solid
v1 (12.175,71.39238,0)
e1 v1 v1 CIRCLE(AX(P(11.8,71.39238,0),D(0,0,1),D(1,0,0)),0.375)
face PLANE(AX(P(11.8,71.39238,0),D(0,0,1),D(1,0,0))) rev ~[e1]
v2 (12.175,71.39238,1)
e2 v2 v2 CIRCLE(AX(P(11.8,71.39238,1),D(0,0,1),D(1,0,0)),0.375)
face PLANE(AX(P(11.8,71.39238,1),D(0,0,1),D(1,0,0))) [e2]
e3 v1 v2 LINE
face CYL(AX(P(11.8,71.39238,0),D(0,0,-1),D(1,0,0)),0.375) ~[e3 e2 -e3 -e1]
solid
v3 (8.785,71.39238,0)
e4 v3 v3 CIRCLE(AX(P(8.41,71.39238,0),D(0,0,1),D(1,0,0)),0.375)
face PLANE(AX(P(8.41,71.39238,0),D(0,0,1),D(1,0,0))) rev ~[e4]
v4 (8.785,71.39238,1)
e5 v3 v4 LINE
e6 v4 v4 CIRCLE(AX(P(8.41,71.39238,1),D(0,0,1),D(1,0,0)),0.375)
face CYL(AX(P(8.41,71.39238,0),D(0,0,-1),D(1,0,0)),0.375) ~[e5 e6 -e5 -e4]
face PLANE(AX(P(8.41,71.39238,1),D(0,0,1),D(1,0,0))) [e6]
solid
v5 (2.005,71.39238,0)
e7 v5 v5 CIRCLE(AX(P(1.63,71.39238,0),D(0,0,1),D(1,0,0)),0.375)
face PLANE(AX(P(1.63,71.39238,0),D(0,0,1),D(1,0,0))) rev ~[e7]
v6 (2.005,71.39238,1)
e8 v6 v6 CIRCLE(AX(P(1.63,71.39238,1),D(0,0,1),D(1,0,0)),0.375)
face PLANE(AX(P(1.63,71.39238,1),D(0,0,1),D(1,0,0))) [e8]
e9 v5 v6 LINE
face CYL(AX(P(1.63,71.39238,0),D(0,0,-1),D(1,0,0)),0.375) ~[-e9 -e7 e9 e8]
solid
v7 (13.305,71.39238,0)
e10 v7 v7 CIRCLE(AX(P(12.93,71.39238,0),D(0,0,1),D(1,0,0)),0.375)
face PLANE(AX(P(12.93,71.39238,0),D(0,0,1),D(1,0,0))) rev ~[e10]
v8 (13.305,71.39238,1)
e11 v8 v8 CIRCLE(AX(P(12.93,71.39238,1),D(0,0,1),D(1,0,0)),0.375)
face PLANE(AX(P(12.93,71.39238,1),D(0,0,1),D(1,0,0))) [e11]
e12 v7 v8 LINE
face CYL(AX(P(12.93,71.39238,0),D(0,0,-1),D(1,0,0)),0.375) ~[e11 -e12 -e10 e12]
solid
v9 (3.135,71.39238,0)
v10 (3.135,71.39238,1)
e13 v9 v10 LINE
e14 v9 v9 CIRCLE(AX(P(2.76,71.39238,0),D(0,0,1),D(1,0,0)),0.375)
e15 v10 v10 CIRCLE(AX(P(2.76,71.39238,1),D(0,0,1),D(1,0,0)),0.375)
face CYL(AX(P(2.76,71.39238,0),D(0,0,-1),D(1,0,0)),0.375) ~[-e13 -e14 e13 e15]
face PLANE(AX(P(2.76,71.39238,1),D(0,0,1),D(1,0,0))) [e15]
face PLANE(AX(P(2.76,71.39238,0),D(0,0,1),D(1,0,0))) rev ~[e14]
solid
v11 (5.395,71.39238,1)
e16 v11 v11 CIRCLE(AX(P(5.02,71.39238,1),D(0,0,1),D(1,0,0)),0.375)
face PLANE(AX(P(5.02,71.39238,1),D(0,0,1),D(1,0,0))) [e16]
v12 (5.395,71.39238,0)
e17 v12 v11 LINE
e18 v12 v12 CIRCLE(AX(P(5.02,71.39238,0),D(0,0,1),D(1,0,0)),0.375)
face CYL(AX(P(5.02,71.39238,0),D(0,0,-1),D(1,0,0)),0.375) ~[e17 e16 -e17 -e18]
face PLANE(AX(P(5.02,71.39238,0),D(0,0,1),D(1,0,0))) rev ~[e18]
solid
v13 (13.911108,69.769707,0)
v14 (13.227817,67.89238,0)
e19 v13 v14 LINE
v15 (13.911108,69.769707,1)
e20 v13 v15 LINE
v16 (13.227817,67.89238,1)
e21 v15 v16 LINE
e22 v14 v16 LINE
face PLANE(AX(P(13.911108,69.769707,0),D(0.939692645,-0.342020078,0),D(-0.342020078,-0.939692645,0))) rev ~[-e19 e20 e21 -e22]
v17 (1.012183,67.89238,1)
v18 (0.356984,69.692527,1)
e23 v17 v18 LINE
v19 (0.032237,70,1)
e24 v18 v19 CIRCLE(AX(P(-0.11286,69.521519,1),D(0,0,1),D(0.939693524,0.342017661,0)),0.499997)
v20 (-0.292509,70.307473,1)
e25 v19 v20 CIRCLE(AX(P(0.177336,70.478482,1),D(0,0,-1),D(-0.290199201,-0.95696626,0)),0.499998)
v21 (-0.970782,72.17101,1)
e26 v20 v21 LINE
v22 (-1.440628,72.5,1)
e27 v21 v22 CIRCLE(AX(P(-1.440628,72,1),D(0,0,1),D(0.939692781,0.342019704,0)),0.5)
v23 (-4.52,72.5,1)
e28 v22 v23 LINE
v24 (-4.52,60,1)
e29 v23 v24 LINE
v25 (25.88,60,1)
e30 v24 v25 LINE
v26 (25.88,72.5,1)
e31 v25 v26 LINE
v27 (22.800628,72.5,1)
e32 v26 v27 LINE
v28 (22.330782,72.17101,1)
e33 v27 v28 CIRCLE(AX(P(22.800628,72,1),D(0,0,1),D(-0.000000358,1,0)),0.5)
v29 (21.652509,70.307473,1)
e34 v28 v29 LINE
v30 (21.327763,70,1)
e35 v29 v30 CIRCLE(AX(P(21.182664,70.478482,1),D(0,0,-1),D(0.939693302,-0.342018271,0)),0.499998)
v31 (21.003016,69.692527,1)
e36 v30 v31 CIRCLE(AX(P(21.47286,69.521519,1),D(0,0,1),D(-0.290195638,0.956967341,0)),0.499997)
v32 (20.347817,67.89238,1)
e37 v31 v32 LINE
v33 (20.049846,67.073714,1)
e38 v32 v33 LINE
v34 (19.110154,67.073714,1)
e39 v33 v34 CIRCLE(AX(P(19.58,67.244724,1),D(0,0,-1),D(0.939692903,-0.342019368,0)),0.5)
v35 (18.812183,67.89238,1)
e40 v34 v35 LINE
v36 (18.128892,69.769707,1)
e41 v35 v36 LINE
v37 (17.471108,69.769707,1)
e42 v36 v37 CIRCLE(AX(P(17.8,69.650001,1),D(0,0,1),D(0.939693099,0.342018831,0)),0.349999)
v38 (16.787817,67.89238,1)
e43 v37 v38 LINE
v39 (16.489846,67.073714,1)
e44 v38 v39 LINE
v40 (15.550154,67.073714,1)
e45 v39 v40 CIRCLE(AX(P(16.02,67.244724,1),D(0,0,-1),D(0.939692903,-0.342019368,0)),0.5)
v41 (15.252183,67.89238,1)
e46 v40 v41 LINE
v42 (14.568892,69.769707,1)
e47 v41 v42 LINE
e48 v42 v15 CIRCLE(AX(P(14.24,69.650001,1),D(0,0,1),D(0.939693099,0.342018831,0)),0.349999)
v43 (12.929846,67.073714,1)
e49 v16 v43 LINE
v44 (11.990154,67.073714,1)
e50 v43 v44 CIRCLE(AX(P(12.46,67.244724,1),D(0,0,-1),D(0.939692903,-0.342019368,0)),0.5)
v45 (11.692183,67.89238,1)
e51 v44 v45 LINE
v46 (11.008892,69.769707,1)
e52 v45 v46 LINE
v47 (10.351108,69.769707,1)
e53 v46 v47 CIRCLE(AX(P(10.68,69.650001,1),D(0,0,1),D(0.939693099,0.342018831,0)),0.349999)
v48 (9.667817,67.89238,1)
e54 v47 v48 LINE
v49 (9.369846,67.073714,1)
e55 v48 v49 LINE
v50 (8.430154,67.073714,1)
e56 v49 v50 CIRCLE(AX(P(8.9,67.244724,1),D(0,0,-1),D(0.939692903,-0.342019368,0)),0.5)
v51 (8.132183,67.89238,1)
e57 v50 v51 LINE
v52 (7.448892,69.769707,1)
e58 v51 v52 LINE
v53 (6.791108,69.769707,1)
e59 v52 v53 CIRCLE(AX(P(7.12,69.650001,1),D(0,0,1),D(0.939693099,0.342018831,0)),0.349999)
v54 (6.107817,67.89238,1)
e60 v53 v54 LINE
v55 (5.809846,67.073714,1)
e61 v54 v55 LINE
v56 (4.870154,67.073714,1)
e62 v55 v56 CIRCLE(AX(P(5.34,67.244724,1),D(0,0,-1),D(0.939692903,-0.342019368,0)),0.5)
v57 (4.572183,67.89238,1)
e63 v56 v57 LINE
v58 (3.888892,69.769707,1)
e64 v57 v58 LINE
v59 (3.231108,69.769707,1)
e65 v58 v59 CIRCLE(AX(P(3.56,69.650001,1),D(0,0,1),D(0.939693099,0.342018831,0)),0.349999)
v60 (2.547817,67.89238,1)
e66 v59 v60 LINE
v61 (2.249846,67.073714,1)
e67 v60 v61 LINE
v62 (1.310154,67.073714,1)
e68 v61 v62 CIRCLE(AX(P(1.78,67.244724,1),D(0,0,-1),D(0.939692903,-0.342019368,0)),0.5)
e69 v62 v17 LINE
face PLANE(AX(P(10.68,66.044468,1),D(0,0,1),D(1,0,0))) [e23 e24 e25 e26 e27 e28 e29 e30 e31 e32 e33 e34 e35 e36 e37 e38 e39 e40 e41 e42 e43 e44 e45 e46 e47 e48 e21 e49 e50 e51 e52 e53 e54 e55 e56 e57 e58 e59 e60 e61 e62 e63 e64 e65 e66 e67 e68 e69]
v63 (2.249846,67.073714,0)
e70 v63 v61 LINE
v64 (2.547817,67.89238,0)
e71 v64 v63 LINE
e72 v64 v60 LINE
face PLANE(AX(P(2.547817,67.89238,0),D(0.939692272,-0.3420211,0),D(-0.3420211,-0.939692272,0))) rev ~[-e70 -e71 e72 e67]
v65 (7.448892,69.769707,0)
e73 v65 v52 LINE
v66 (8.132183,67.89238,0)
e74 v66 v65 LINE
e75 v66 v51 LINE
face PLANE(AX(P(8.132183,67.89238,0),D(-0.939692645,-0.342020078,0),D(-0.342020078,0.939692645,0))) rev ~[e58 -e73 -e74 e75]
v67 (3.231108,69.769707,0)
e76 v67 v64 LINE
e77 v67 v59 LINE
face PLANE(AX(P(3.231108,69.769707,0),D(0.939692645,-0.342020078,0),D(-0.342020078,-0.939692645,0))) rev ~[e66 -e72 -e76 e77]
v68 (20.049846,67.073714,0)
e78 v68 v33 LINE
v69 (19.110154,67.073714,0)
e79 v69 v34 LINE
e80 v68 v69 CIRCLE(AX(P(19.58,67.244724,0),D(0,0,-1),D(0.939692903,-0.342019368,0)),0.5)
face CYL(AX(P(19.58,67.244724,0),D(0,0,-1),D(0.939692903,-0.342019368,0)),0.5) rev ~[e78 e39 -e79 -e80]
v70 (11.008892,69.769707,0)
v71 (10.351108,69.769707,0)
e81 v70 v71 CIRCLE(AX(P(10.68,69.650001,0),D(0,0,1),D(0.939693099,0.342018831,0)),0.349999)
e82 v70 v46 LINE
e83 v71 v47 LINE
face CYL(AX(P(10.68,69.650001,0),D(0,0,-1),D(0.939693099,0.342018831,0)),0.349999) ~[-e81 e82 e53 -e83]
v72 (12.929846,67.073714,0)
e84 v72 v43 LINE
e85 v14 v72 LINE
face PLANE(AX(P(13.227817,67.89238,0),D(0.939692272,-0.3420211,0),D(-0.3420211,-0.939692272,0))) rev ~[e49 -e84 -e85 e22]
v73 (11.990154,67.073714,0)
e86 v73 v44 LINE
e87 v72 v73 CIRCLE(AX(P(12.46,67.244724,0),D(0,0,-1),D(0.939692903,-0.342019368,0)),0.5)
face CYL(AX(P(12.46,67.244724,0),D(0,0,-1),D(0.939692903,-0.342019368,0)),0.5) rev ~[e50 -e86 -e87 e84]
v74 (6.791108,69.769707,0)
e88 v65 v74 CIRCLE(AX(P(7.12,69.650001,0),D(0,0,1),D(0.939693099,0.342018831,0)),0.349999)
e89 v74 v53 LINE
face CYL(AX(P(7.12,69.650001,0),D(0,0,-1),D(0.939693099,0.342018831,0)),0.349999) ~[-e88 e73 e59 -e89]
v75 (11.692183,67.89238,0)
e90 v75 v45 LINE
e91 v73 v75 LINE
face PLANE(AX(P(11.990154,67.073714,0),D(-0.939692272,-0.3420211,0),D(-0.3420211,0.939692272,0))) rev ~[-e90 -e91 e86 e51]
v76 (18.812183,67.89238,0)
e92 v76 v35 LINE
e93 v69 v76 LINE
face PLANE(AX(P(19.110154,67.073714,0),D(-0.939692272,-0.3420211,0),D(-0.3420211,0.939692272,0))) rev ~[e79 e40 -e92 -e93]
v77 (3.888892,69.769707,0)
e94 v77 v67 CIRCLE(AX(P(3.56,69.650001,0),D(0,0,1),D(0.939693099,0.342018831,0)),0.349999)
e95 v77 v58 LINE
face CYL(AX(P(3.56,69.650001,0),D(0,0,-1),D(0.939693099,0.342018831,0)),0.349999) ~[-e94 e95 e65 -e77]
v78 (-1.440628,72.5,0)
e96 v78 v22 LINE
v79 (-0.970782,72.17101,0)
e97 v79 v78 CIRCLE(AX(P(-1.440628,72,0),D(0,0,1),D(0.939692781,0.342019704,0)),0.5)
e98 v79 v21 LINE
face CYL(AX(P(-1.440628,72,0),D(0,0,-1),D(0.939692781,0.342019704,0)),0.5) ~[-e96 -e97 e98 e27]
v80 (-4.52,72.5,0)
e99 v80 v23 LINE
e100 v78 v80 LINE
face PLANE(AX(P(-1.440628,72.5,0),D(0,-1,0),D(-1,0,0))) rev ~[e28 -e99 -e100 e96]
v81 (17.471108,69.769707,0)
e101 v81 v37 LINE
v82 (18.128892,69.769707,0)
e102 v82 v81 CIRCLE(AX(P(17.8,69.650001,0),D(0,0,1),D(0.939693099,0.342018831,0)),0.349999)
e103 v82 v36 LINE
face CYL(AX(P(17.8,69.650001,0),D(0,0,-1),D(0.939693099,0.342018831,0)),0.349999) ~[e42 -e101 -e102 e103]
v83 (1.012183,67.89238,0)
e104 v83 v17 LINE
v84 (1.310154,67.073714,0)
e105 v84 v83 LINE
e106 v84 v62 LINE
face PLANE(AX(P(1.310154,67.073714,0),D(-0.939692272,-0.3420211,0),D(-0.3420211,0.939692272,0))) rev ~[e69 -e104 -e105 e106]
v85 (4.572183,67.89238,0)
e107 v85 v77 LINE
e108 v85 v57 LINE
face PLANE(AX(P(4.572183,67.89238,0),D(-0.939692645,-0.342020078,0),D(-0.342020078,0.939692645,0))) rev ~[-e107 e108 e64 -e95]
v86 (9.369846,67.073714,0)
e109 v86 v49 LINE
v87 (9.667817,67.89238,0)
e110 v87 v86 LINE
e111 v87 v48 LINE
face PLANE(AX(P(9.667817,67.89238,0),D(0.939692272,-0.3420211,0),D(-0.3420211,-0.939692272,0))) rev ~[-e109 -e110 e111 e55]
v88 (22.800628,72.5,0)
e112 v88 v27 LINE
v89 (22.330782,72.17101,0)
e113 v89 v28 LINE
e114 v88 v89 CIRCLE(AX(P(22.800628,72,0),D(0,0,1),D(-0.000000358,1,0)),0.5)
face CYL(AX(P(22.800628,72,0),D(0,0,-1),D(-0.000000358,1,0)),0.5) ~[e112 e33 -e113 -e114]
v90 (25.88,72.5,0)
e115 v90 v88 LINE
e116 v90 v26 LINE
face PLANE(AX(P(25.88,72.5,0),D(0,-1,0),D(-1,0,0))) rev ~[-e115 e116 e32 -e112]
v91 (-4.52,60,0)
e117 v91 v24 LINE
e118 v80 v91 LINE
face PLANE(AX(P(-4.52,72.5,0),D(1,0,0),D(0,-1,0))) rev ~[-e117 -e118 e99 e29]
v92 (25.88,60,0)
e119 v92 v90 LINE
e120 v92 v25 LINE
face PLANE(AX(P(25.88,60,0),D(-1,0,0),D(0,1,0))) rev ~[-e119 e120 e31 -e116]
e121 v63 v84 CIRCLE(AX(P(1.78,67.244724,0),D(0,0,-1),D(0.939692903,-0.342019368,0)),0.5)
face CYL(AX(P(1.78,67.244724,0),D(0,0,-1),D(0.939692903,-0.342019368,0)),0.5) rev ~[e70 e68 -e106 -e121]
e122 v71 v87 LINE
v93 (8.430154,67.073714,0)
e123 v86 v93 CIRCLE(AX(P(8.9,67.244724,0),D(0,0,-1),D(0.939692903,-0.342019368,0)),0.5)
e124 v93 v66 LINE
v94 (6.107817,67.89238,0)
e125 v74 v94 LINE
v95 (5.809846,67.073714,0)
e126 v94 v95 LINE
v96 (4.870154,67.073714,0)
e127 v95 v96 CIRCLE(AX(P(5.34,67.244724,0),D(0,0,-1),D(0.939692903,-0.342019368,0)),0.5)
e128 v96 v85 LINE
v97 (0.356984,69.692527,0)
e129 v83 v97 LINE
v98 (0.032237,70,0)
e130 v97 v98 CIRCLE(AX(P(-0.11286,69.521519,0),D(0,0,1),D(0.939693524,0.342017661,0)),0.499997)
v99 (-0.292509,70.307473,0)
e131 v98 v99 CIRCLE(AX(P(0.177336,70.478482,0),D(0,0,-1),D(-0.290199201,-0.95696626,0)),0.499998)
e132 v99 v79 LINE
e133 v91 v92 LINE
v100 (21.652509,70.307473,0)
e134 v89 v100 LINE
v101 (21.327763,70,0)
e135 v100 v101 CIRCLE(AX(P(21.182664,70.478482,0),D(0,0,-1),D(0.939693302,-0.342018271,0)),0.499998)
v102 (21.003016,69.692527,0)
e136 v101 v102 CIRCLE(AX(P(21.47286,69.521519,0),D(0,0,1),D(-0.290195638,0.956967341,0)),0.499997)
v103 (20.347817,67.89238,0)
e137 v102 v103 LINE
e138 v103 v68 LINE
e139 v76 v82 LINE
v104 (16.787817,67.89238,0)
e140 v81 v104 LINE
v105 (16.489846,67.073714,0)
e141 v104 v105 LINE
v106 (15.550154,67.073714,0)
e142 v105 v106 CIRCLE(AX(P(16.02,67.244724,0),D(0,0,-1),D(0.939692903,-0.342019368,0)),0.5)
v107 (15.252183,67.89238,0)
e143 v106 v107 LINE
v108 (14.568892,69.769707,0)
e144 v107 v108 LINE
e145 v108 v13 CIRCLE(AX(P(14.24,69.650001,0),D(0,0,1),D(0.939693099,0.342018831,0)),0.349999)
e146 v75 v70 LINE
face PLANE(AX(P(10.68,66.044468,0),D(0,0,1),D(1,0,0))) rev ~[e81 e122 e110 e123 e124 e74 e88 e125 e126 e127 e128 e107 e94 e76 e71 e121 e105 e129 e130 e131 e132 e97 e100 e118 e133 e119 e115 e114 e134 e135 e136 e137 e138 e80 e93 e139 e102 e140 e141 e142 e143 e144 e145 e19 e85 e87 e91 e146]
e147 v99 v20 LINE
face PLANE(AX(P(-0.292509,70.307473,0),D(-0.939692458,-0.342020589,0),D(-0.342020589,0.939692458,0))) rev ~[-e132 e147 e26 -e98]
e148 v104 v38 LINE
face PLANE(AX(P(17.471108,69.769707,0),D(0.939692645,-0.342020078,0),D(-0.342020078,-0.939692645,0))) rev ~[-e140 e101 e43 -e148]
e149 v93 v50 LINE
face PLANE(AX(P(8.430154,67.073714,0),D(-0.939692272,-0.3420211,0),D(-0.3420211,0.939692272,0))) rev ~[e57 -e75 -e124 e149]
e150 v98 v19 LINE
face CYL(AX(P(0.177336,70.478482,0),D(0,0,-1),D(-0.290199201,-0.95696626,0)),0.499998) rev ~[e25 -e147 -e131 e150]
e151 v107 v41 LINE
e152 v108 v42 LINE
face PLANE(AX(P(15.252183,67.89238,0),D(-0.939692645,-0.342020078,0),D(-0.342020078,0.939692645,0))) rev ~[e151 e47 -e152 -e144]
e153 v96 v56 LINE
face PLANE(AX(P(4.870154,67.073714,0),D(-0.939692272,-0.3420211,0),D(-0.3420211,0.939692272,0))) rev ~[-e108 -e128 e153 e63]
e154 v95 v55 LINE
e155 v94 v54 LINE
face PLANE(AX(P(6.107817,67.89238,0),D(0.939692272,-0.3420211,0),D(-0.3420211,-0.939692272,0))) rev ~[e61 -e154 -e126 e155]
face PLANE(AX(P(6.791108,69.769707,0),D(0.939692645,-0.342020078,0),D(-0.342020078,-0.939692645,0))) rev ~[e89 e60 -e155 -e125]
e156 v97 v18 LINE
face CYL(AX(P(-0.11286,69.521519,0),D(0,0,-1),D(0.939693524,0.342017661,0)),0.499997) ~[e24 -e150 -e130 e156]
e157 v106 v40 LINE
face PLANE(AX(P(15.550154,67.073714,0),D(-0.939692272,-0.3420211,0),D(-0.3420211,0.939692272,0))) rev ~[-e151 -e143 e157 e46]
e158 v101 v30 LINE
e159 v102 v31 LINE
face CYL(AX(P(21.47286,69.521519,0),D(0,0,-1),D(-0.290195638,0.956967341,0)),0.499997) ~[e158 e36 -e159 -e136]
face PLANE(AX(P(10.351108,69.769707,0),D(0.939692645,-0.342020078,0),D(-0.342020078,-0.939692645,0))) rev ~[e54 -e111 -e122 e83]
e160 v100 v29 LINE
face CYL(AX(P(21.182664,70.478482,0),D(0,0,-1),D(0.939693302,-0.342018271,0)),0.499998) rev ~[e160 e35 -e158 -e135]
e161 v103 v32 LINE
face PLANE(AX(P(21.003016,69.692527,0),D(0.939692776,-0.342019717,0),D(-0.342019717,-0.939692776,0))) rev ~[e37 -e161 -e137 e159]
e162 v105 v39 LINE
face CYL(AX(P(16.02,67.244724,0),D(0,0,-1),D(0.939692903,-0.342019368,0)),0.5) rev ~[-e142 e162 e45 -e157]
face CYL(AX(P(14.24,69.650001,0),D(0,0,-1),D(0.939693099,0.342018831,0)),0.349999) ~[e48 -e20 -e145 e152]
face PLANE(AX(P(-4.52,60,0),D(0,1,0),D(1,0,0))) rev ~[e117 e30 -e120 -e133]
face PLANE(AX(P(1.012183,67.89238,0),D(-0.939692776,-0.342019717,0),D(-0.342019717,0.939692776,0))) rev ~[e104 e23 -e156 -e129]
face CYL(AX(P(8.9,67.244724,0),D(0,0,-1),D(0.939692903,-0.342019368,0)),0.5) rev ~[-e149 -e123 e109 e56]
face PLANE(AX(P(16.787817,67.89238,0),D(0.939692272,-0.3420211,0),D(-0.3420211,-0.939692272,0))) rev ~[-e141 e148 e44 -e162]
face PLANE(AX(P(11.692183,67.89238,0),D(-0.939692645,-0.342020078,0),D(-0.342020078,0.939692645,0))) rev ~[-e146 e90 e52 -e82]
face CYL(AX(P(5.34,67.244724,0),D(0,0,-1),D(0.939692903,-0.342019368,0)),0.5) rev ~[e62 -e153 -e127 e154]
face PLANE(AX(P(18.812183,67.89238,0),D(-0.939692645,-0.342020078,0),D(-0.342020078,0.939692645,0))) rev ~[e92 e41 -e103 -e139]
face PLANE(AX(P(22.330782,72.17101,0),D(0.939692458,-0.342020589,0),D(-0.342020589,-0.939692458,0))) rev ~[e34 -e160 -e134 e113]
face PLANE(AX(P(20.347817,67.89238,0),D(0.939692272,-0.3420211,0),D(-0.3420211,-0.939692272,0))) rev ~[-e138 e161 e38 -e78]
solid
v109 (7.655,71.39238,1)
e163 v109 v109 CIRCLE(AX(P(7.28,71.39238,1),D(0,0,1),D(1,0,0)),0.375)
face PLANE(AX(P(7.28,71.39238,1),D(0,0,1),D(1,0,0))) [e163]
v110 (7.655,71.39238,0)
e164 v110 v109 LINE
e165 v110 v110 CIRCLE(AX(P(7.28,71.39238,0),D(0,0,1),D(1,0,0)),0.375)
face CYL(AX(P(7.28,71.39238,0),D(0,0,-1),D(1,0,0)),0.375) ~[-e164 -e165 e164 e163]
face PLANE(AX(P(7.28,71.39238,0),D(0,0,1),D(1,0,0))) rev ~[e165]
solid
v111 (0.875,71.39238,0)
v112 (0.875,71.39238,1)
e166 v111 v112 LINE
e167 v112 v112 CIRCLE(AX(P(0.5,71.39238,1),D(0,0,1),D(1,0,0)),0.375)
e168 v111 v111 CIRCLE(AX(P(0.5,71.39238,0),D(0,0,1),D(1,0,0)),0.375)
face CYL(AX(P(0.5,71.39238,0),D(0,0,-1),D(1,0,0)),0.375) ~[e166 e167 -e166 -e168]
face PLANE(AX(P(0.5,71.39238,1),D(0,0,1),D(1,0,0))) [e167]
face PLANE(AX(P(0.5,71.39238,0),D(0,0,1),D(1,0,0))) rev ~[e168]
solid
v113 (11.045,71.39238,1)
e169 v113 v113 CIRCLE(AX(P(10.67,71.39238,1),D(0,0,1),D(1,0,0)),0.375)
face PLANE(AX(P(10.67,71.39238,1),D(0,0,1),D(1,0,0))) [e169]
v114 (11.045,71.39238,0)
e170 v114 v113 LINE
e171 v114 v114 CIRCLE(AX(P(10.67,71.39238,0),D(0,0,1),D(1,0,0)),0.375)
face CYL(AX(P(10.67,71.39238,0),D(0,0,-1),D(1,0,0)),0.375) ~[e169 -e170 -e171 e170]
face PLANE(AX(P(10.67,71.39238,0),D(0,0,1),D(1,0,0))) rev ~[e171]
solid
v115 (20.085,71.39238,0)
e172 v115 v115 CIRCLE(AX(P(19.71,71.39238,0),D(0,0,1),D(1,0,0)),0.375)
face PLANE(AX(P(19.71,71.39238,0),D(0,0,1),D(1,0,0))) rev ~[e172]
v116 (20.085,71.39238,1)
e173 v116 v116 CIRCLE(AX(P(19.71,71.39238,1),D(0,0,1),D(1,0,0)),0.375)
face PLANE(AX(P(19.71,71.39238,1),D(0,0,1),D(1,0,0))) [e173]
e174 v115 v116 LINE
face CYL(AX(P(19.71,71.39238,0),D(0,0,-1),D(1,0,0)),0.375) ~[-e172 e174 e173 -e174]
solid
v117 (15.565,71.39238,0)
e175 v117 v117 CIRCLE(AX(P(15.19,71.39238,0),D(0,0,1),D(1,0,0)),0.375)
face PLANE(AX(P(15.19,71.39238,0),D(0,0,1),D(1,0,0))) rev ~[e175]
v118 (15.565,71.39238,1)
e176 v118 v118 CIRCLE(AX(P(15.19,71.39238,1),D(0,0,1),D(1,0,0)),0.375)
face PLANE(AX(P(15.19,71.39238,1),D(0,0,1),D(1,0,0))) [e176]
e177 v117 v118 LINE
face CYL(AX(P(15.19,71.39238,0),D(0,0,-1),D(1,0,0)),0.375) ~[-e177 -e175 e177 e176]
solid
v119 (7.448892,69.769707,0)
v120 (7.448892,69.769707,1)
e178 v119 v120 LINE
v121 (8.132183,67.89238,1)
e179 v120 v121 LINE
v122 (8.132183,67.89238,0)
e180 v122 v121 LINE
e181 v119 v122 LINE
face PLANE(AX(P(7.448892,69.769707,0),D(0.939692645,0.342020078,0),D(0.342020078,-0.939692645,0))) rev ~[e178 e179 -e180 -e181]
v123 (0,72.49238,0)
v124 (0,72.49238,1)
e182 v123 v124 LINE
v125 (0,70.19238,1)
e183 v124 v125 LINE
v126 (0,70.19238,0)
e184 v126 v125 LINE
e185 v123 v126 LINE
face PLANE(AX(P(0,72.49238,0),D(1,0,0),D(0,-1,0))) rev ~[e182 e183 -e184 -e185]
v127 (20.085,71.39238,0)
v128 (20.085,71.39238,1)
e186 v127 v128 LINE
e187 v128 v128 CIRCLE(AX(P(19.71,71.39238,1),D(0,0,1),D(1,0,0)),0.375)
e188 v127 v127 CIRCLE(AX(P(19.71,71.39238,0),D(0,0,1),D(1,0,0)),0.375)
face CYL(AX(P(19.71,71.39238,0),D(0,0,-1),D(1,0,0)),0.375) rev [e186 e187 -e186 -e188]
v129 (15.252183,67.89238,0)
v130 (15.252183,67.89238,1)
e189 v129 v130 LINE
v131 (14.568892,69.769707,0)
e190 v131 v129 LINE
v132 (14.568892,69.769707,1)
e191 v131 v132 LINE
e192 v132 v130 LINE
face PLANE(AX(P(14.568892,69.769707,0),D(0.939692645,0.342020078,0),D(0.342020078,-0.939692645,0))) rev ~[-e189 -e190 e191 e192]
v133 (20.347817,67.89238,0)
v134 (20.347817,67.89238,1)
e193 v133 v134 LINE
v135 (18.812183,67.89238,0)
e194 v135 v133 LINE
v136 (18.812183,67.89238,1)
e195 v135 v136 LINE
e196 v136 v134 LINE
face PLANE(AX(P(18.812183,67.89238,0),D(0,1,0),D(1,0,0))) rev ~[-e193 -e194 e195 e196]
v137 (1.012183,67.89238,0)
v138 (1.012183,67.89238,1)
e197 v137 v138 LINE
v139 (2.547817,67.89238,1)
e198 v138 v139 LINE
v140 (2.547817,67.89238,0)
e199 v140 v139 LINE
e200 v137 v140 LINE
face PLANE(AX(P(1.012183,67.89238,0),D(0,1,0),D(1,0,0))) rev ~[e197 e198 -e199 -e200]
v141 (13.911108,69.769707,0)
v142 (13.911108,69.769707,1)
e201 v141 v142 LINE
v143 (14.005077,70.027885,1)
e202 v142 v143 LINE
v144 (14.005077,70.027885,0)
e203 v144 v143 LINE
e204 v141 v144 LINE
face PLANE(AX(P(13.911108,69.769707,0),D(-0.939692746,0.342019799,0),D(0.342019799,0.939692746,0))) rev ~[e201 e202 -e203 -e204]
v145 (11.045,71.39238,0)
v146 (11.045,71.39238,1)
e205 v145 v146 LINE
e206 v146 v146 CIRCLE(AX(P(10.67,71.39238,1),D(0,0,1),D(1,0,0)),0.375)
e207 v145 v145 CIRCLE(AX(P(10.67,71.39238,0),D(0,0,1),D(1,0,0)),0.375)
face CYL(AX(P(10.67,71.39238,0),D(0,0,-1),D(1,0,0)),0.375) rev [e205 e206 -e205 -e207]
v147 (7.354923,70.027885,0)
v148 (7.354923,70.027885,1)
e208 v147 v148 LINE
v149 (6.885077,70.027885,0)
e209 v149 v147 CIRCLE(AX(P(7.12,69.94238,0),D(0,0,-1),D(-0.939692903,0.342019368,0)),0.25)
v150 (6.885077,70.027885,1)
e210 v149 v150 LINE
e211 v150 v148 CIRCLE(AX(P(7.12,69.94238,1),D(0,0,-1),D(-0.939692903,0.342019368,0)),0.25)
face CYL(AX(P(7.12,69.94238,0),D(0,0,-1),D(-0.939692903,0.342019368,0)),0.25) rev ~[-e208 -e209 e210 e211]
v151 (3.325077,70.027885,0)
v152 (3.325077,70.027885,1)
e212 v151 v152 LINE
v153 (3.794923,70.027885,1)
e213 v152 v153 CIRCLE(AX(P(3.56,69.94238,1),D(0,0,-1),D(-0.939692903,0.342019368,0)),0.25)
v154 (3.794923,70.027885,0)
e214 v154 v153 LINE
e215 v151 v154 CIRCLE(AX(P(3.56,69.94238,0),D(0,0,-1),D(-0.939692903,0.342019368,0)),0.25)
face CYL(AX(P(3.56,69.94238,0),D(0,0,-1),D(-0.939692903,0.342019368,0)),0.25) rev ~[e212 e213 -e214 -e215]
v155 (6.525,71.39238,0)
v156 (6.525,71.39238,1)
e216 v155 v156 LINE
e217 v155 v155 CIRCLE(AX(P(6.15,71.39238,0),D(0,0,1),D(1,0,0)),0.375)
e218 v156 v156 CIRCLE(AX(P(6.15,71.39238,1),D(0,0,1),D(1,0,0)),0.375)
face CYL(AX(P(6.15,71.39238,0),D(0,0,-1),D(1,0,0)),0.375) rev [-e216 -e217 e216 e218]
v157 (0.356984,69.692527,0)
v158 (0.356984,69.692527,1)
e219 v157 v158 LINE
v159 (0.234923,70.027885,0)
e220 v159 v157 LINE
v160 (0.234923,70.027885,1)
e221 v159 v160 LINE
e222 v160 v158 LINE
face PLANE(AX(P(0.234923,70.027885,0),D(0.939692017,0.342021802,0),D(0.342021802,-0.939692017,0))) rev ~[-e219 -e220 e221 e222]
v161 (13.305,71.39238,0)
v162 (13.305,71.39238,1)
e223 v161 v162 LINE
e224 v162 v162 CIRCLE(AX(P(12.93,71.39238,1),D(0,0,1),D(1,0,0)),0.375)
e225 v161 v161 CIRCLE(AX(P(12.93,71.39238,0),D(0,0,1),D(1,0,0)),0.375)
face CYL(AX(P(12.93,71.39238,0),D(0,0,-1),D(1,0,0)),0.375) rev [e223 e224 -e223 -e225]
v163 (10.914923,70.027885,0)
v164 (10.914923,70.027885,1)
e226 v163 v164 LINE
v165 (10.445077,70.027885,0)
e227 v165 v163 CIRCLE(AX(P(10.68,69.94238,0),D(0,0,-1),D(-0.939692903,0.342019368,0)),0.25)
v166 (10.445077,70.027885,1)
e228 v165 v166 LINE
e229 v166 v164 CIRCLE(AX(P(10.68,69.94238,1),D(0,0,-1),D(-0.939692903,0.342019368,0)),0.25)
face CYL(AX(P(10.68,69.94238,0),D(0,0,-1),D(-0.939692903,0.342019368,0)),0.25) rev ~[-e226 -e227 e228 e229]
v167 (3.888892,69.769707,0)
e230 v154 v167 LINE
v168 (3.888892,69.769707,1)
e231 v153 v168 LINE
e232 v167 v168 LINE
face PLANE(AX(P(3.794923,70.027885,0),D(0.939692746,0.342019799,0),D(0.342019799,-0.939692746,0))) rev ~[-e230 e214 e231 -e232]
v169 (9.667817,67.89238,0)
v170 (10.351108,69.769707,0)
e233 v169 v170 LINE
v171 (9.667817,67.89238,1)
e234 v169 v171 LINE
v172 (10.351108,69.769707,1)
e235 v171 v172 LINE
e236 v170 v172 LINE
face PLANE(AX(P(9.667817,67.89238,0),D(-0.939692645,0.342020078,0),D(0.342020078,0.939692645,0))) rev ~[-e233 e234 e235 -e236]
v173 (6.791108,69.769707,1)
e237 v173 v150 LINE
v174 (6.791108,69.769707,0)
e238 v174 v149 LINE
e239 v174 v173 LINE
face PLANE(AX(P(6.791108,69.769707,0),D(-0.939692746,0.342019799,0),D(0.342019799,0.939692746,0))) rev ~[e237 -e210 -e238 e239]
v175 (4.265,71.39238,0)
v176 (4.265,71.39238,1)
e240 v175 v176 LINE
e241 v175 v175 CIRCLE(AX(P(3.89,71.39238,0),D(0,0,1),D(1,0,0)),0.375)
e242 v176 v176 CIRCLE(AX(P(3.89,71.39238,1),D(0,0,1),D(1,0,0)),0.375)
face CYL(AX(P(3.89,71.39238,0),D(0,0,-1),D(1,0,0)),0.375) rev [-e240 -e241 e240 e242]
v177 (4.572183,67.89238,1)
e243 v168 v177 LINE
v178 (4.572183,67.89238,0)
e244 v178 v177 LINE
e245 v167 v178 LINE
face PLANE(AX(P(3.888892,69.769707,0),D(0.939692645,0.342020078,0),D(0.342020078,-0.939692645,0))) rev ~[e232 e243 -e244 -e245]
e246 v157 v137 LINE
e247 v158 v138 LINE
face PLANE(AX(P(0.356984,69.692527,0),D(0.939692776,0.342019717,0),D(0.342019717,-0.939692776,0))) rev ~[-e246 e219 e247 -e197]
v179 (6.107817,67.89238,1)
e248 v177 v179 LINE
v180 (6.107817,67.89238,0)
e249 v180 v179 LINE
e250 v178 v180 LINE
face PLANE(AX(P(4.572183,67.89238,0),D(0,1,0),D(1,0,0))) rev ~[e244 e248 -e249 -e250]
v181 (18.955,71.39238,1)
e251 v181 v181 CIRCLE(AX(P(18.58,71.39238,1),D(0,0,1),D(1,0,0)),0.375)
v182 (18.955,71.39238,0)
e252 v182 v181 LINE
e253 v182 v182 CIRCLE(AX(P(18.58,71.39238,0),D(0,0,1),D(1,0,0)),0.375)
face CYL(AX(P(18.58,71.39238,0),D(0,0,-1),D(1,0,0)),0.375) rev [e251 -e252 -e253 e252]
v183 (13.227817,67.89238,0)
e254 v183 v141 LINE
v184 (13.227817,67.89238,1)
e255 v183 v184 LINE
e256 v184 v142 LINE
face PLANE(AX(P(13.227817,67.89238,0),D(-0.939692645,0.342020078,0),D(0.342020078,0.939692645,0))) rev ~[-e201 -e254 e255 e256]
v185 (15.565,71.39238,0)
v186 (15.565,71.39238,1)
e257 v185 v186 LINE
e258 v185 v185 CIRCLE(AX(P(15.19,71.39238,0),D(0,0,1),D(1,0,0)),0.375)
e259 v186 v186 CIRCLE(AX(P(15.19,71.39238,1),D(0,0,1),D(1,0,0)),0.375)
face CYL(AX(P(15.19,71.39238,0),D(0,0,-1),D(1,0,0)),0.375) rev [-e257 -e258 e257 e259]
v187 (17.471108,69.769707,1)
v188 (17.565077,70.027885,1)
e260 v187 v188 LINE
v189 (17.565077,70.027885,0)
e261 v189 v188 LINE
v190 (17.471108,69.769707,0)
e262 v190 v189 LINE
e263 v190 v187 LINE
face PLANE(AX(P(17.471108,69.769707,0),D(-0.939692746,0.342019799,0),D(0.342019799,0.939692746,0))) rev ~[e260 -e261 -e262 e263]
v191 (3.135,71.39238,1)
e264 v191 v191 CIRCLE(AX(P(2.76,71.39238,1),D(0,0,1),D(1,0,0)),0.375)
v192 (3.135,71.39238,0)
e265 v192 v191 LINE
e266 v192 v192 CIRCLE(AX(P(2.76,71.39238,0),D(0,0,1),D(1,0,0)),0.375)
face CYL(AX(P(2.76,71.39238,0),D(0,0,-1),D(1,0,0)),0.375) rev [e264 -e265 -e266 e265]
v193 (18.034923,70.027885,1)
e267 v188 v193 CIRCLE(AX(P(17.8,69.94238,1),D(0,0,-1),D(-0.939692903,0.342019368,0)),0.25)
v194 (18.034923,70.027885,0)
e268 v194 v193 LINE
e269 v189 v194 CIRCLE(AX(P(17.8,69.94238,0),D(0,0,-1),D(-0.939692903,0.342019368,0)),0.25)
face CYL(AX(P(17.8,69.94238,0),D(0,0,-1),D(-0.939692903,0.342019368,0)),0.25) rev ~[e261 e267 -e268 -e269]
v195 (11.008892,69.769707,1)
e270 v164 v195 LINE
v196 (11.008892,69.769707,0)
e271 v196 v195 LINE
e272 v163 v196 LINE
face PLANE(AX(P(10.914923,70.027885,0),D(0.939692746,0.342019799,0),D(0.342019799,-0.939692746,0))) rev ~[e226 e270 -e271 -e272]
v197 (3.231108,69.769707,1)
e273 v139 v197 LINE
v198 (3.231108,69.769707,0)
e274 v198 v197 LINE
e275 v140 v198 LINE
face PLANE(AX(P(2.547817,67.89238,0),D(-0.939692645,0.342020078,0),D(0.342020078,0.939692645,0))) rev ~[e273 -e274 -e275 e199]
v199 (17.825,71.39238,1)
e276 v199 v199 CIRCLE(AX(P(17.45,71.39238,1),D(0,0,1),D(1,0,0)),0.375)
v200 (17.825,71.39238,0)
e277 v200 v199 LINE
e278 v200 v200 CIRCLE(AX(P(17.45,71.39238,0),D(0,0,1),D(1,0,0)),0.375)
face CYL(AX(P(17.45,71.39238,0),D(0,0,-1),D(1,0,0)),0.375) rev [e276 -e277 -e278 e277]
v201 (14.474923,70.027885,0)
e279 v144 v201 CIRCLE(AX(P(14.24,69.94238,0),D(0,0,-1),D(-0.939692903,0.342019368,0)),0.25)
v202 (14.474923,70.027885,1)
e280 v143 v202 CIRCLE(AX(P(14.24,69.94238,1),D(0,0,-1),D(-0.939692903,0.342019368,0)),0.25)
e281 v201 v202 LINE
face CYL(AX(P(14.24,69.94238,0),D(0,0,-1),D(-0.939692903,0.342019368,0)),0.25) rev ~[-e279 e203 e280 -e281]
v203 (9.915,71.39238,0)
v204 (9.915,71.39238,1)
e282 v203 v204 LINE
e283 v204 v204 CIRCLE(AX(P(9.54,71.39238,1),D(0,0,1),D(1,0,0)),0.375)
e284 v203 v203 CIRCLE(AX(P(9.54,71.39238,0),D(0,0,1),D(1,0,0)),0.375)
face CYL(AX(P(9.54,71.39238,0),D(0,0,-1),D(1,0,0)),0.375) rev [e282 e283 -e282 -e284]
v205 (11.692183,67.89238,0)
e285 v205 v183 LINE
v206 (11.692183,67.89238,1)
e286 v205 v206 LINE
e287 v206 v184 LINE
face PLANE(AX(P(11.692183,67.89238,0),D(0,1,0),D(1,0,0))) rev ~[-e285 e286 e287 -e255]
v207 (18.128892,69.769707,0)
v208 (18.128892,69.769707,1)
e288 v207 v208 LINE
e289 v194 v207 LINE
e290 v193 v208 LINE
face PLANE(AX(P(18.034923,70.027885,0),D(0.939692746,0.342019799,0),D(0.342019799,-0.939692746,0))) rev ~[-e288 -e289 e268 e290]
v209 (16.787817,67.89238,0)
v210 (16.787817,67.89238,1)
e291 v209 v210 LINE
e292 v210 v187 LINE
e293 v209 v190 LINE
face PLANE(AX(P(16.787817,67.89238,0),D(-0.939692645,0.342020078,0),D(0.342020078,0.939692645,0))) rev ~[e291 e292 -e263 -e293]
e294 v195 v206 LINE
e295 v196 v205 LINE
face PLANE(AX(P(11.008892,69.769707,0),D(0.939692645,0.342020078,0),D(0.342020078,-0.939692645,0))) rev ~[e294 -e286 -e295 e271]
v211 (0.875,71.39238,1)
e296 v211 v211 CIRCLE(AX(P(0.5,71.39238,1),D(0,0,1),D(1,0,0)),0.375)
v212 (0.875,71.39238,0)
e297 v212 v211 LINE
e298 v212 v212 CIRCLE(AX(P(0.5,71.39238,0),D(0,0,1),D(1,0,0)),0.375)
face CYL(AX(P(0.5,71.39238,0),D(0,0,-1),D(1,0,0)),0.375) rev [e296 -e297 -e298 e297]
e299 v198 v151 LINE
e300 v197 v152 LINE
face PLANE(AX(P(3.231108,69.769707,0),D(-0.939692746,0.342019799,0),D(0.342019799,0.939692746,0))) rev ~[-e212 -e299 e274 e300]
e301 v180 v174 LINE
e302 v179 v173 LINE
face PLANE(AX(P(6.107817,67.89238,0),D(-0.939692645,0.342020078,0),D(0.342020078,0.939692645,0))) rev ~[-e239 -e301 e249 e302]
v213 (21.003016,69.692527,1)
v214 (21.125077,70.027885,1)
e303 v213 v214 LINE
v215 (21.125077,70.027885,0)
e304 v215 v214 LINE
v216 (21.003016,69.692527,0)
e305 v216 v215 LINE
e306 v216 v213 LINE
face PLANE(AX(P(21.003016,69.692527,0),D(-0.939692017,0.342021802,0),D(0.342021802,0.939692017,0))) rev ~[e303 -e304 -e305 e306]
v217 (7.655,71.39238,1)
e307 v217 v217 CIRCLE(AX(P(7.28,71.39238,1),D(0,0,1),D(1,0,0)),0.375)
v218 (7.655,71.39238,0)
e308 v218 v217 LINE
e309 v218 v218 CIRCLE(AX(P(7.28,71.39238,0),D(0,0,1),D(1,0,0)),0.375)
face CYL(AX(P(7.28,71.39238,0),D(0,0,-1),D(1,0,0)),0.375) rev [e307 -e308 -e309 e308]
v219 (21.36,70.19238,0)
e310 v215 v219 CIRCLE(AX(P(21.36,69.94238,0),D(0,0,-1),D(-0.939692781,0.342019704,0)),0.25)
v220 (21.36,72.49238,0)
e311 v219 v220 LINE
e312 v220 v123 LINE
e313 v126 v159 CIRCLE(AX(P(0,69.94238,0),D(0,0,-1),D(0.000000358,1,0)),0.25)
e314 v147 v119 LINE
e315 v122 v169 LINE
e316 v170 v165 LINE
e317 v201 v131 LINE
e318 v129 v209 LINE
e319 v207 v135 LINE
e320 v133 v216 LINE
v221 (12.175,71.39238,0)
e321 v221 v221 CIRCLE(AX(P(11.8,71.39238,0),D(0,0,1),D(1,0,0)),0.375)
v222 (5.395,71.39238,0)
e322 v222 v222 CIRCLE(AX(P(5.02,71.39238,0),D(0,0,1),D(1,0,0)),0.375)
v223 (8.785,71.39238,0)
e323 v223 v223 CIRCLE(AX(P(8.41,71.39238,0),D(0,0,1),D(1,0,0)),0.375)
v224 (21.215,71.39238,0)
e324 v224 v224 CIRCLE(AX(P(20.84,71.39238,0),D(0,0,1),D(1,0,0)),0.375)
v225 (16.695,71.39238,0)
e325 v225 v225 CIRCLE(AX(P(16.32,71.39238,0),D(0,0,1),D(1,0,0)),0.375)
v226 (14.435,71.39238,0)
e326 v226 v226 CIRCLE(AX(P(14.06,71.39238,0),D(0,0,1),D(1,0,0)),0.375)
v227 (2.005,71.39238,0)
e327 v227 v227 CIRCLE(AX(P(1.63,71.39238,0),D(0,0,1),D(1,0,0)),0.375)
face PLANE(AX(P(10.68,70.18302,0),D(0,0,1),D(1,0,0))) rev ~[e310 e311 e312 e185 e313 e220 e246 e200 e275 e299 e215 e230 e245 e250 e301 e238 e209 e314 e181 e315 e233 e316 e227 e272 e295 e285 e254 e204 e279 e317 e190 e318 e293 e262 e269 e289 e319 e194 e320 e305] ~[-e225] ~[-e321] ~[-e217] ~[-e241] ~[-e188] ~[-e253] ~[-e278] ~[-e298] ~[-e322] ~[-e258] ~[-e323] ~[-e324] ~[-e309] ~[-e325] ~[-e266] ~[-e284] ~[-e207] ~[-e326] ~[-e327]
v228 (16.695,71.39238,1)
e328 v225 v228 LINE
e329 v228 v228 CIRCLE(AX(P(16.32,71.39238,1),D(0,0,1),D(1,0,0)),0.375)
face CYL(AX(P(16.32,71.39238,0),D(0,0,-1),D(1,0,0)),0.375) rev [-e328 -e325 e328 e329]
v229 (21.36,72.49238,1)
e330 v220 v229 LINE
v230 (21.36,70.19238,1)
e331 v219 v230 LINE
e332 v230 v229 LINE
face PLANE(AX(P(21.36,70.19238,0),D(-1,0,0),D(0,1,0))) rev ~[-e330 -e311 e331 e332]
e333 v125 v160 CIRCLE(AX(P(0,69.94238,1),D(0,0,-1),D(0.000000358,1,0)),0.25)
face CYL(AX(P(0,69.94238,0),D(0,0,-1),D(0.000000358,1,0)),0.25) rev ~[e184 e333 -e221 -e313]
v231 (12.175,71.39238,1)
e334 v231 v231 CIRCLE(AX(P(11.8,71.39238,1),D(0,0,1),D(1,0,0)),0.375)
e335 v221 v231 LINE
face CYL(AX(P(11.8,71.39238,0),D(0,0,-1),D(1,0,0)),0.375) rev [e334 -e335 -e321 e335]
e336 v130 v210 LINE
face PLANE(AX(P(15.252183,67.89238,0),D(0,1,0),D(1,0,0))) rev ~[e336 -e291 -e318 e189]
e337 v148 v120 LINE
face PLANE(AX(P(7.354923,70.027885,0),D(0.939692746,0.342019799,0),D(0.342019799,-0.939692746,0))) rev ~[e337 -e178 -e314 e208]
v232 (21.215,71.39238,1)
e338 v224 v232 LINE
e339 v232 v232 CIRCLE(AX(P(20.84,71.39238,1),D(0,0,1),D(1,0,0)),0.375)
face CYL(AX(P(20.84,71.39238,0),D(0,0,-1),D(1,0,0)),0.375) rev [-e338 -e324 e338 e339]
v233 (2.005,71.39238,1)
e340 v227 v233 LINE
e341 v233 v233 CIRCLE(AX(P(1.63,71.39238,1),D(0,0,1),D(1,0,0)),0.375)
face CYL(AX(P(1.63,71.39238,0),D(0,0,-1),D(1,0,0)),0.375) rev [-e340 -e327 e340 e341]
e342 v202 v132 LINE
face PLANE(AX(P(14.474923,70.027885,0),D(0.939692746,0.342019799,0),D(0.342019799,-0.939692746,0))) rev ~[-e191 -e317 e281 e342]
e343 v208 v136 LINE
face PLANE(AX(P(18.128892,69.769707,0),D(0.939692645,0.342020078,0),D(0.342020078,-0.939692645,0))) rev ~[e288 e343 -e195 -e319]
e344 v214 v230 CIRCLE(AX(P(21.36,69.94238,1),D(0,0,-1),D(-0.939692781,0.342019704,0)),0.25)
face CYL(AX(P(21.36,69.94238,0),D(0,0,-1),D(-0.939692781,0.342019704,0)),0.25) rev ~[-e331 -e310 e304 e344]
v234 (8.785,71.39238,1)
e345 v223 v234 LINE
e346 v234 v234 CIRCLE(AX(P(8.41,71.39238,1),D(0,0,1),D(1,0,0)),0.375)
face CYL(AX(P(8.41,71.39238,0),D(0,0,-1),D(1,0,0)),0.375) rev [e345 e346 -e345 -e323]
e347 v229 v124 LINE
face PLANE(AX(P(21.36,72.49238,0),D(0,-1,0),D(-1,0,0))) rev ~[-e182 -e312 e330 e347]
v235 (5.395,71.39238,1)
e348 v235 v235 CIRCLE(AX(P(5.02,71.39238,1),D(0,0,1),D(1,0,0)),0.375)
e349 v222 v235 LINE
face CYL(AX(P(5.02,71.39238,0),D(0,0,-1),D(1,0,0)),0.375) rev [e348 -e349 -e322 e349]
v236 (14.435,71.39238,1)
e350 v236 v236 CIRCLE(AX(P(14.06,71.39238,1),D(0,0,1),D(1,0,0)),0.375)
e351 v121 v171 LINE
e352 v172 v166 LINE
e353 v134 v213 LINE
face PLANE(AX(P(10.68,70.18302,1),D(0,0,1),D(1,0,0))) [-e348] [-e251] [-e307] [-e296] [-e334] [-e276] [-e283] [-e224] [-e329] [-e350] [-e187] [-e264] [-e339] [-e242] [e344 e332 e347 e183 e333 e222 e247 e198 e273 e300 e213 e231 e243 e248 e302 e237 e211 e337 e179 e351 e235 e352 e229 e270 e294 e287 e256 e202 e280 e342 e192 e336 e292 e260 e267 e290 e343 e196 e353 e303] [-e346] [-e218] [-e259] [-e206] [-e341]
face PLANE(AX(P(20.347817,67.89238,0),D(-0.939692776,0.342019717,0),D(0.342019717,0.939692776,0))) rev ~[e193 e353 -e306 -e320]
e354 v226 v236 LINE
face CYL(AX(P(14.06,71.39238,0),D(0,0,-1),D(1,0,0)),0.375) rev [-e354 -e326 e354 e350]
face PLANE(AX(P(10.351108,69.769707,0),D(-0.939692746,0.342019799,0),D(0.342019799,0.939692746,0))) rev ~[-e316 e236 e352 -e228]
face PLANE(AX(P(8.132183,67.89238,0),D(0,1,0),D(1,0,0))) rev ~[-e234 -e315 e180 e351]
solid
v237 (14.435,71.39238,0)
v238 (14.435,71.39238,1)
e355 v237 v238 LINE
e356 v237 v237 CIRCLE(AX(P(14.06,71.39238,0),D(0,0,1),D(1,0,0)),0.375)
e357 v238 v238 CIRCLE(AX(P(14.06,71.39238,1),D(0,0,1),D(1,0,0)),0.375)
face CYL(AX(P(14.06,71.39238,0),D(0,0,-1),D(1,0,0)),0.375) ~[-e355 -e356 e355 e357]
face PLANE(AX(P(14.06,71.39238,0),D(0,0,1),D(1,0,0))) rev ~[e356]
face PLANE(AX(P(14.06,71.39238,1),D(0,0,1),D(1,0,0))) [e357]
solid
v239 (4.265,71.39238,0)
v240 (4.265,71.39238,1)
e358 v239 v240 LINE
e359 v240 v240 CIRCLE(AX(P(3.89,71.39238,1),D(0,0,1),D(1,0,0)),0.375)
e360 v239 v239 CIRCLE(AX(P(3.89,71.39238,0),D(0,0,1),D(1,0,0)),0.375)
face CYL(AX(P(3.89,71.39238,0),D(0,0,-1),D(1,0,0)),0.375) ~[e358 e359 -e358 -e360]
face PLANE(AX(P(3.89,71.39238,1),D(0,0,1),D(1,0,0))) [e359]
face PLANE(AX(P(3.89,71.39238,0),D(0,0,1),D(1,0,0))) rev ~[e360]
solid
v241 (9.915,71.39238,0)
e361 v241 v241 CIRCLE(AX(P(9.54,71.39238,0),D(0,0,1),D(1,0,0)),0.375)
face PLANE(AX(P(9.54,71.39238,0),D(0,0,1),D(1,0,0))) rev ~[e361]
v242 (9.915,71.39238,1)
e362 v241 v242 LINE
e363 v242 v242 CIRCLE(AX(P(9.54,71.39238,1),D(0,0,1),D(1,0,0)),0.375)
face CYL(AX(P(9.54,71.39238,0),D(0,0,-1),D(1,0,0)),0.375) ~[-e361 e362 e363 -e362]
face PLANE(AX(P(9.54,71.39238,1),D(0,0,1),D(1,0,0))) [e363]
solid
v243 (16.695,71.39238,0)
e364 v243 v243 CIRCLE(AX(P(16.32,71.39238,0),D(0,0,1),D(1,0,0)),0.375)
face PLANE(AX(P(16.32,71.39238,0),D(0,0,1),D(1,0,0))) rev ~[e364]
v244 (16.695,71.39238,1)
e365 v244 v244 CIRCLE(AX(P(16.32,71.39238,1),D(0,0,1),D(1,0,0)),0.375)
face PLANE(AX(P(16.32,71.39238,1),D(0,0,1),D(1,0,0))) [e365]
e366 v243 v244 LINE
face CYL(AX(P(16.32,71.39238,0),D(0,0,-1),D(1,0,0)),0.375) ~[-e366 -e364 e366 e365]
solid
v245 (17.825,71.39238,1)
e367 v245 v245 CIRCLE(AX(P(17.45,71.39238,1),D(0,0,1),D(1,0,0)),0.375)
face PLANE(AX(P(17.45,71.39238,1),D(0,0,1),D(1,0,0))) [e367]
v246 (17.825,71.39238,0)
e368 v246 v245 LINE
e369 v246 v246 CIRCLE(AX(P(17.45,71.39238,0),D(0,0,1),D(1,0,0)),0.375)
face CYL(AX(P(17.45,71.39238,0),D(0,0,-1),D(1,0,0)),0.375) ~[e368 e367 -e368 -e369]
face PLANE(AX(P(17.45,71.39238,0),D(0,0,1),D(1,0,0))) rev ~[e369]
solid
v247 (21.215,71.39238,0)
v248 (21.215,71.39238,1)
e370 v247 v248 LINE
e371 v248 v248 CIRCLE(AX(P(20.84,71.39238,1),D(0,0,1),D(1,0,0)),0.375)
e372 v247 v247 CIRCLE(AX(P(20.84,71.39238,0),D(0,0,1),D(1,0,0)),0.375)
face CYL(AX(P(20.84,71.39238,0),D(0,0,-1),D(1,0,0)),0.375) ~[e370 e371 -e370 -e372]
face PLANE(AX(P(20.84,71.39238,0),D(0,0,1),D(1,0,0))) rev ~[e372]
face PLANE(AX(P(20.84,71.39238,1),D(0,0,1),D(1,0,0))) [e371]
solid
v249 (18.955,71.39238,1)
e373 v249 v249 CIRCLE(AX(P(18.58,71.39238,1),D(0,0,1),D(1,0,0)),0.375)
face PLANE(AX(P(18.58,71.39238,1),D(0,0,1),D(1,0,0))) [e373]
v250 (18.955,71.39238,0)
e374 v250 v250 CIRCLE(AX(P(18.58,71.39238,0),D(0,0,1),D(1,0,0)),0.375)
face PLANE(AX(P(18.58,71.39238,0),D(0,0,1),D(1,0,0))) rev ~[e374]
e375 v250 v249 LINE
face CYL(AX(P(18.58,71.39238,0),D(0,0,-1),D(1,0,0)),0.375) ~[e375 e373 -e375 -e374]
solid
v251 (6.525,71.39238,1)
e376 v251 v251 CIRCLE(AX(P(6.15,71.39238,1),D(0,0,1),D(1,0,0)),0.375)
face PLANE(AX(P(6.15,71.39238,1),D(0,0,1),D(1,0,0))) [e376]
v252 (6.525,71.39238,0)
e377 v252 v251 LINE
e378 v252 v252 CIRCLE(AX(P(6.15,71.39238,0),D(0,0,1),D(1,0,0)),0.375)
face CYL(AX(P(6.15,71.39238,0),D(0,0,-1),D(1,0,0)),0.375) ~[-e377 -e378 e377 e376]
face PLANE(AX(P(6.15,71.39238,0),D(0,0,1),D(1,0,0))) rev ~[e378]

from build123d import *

# Parameters (mm, degrees)
F0_R     = 0.375
F1_DEPTH = 1
F2_DEPTH = 1
F3_DEPTH = 1


with BuildPart() as f1:
    # F0 (on Top) → F1 (new body)
    with BuildSketch(Plane.XY):
        with BuildLine():
            ThreePointArc((0, 70.19238), (0.143394, 70.147168), (0.234923, 70.027885))
            Line((0.234923, 70.027885), (0.356984, 69.692527))
            Line((0.356984, 69.692527), (1.012183, 67.89238))
            Line((1.012183, 67.89238), (2.547817, 67.89238))
            Line((2.547817, 67.89238), (3.231108, 69.769707))
            Line((3.231108, 69.769707), (3.325077, 70.027885))
            ThreePointArc((3.325077, 70.027885), (3.56, 70.19238), (3.794923, 70.027885))
            Line((3.794923, 70.027885), (3.888892, 69.769707))
            Line((3.888892, 69.769707), (4.572183, 67.89238))
            Line((4.572183, 67.89238), (6.107817, 67.89238))
            Line((6.107817, 67.89238), (6.791108, 69.769707))
            Line((6.791108, 69.769707), (6.885077, 70.027885))
            ThreePointArc((6.885077, 70.027885), (7.12, 70.19238), (7.354923, 70.027885))
            Line((7.354923, 70.027885), (7.448892, 69.769707))
            Line((7.448892, 69.769707), (8.132183, 67.89238))
            Line((8.132183, 67.89238), (9.667817, 67.89238))
            Line((9.667817, 67.89238), (10.351108, 69.769707))
            Line((10.351108, 69.769707), (10.445077, 70.027885))
            ThreePointArc((10.445077, 70.027885), (10.68, 70.19238), (10.914923, 70.027885))
            Line((10.914923, 70.027885), (11.008892, 69.769707))
            Line((11.008892, 69.769707), (11.692183, 67.89238))
            Line((11.692183, 67.89238), (13.227817, 67.89238))
            Line((13.227817, 67.89238), (13.911108, 69.769707))
            Line((13.911108, 69.769707), (14.005077, 70.027885))
            ThreePointArc((14.005077, 70.027885), (14.24, 70.19238), (14.474923, 70.027885))
            Line((14.474923, 70.027885), (14.568892, 69.769707))
            Line((14.568892, 69.769707), (15.252183, 67.89238))
            Line((15.252183, 67.89238), (16.787817, 67.89238))
            Line((16.787817, 67.89238), (17.471108, 69.769707))
            Line((17.471108, 69.769707), (17.565077, 70.027885))
            ThreePointArc((17.565077, 70.027885), (17.8, 70.19238), (18.034923, 70.027885))
            Line((18.034923, 70.027885), (18.128892, 69.769707))
            Line((18.128892, 69.769707), (18.812183, 67.89238))
            Line((18.812183, 67.89238), (20.347817, 67.89238))
            Line((20.347817, 67.89238), (21.003016, 69.692527))
            Line((21.003016, 69.692527), (21.125077, 70.027885))
            ThreePointArc((21.125077, 70.027885), (21.216606, 70.147168), (21.36, 70.19238))
            Line((21.36, 70.19238), (21.36, 72.49238))
            Line((21.36, 72.49238), (0, 72.49238))
            Line((0, 72.49238), (0, 70.19238))
        make_face()
        with Locations((0.5, 71.39238)):
            Circle(F0_R, mode=Mode.SUBTRACT)
        with Locations((1.63, 71.39238)):
            Circle(F0_R, mode=Mode.SUBTRACT)
        with Locations((2.76, 71.39238)):
            Circle(F0_R, mode=Mode.SUBTRACT)
        with Locations((3.89, 71.39238)):
            Circle(F0_R, mode=Mode.SUBTRACT)
        with Locations((5.02, 71.39238)):
            Circle(F0_R, mode=Mode.SUBTRACT)
        with Locations((6.15, 71.39238)):
            Circle(F0_R, mode=Mode.SUBTRACT)
        with Locations((7.28, 71.39238)):
            Circle(F0_R, mode=Mode.SUBTRACT)
        with Locations((8.41, 71.39238)):
            Circle(F0_R, mode=Mode.SUBTRACT)
        with Locations((9.54, 71.39238)):
            Circle(F0_R, mode=Mode.SUBTRACT)
        with Locations((10.67, 71.39238)):
            Circle(F0_R, mode=Mode.SUBTRACT)
        with Locations((11.8, 71.39238)):
            Circle(F0_R, mode=Mode.SUBTRACT)
        with Locations((12.93, 71.39238)):
            Circle(F0_R, mode=Mode.SUBTRACT)
        with Locations((14.06, 71.39238)):
            Circle(F0_R, mode=Mode.SUBTRACT)
        with Locations((15.19, 71.39238)):
            Circle(F0_R, mode=Mode.SUBTRACT)
        with Locations((16.32, 71.39238)):
            Circle(F0_R, mode=Mode.SUBTRACT)
        with Locations((17.45, 71.39238)):
            Circle(F0_R, mode=Mode.SUBTRACT)
        with Locations((18.58, 71.39238)):
            Circle(F0_R, mode=Mode.SUBTRACT)
        with Locations((19.71, 71.39238)):
            Circle(F0_R, mode=Mode.SUBTRACT)
        with Locations((20.84, 71.39238)):
            Circle(F0_R, mode=Mode.SUBTRACT)
    extrude(amount=F1_DEPTH)


with BuildPart() as f2:
    # F0 (on Top) → F2 (new body)
    with BuildSketch(Plane.XY):
        with BuildLine():
            Line((1.012183, 67.89238), (0.356984, 69.692527))
            ThreePointArc((0.356984, 69.692527), (0.230903, 69.884595), (0.032237, 70))
            ThreePointArc((0.032237, 70), (-0.166428, 70.115405), (-0.292509, 70.307473))
            Line((-0.292509, 70.307473), (-0.970782, 72.17101))
            ThreePointArc((-0.970782, 72.17101), (-1.15384, 72.409576), (-1.440628, 72.5))
            Line((-1.440628, 72.5), (-4.52, 72.5))
            Line((-4.52, 72.5), (-4.52, 60))
            Line((-4.52, 60), (25.88, 60))
            Line((25.88, 60), (25.88, 72.5))
            Line((25.88, 72.5), (22.800628, 72.5))
            ThreePointArc((22.800628, 72.5), (22.51384, 72.409576), (22.330782, 72.17101))
            Line((22.330782, 72.17101), (21.652509, 70.307473))
            ThreePointArc((21.652509, 70.307473), (21.526428, 70.115405), (21.327763, 70))
            ThreePointArc((21.327763, 70), (21.129097, 69.884595), (21.003016, 69.692527))
            Line((21.003016, 69.692527), (20.347817, 67.89238))
            Line((20.347817, 67.89238), (20.049846, 67.073714))
            ThreePointArc((20.049846, 67.073714), (19.58, 66.744724), (19.110154, 67.073714))
            Line((19.110154, 67.073714), (18.812183, 67.89238))
            Line((18.812183, 67.89238), (18.128892, 69.769707))
            ThreePointArc((18.128892, 69.769707), (17.8, 70), (17.471108, 69.769707))
            Line((17.471108, 69.769707), (16.787817, 67.89238))
            Line((16.787817, 67.89238), (16.489846, 67.073714))
            ThreePointArc((16.489846, 67.073714), (16.02, 66.744724), (15.550154, 67.073714))
            Line((15.550154, 67.073714), (15.252183, 67.89238))
            Line((15.252183, 67.89238), (14.568892, 69.769707))
            ThreePointArc((14.568892, 69.769707), (14.24, 70), (13.911108, 69.769707))
            Line((13.911108, 69.769707), (13.227817, 67.89238))
            Line((13.227817, 67.89238), (12.929846, 67.073714))
            ThreePointArc((12.929846, 67.073714), (12.46, 66.744724), (11.990154, 67.073714))
            Line((11.990154, 67.073714), (11.692183, 67.89238))
            Line((11.692183, 67.89238), (11.008892, 69.769707))
            ThreePointArc((11.008892, 69.769707), (10.68, 70), (10.351108, 69.769707))
            Line((10.351108, 69.769707), (9.667817, 67.89238))
            Line((9.667817, 67.89238), (9.369846, 67.073714))
            ThreePointArc((9.369846, 67.073714), (8.9, 66.744724), (8.430154, 67.073714))
            Line((8.430154, 67.073714), (8.132183, 67.89238))
            Line((8.132183, 67.89238), (7.448892, 69.769707))
            ThreePointArc((7.448892, 69.769707), (7.12, 70), (6.791108, 69.769707))
            Line((6.791108, 69.769707), (6.107817, 67.89238))
            Line((6.107817, 67.89238), (5.809846, 67.073714))
            ThreePointArc((5.809846, 67.073714), (5.34, 66.744724), (4.870154, 67.073714))
            Line((4.870154, 67.073714), (4.572183, 67.89238))
            Line((4.572183, 67.89238), (3.888892, 69.769707))
            ThreePointArc((3.888892, 69.769707), (3.56, 70), (3.231108, 69.769707))
            Line((3.231108, 69.769707), (2.547817, 67.89238))
            Line((2.547817, 67.89238), (2.249846, 67.073714))
            ThreePointArc((2.249846, 67.073714), (1.78, 66.744724), (1.310154, 67.073714))
            Line((1.310154, 67.073714), (1.012183, 67.89238))
        make_face()
    extrude(amount=F2_DEPTH)


with BuildPart() as f3:
    # F0 (on Top) → F3 (new body)
    with BuildSketch(Plane.XY):
        with Locations((0.5, 71.39238)):
            Circle(F0_R)
        with Locations((1.63, 71.39238)):
            Circle(F0_R)
        with Locations((2.76, 71.39238)):
            Circle(F0_R)
        with Locations((3.89, 71.39238)):
            Circle(F0_R)
        with Locations((5.02, 71.39238)):
            Circle(F0_R)
        with Locations((6.15, 71.39238)):
            Circle(F0_R)
        with Locations((7.28, 71.39238)):
            Circle(F0_R)
        with Locations((8.41, 71.39238)):
            Circle(F0_R)
        with Locations((9.54, 71.39238)):
            Circle(F0_R)
        with Locations((10.67, 71.39238)):
            Circle(F0_R)
        with Locations((11.8, 71.39238)):
            Circle(F0_R)
        with Locations((12.93, 71.39238)):
            Circle(F0_R)
        with Locations((14.06, 71.39238)):
            Circle(F0_R)
        with Locations((17.45, 71.39238)):
            Circle(F0_R)
        with Locations((18.58, 71.39238)):
            Circle(F0_R)
        with Locations((19.71, 71.39238)):
            Circle(F0_R)
        with Locations((20.84, 71.39238)):
            Circle(F0_R)
        with Locations((16.32, 71.39238)):
            Circle(F0_R)
        with Locations((15.19, 71.39238)):
            Circle(F0_R)
    extrude(amount=F3_DEPTH)


solid = Compound([f1.part, f2.part, f3.part])
